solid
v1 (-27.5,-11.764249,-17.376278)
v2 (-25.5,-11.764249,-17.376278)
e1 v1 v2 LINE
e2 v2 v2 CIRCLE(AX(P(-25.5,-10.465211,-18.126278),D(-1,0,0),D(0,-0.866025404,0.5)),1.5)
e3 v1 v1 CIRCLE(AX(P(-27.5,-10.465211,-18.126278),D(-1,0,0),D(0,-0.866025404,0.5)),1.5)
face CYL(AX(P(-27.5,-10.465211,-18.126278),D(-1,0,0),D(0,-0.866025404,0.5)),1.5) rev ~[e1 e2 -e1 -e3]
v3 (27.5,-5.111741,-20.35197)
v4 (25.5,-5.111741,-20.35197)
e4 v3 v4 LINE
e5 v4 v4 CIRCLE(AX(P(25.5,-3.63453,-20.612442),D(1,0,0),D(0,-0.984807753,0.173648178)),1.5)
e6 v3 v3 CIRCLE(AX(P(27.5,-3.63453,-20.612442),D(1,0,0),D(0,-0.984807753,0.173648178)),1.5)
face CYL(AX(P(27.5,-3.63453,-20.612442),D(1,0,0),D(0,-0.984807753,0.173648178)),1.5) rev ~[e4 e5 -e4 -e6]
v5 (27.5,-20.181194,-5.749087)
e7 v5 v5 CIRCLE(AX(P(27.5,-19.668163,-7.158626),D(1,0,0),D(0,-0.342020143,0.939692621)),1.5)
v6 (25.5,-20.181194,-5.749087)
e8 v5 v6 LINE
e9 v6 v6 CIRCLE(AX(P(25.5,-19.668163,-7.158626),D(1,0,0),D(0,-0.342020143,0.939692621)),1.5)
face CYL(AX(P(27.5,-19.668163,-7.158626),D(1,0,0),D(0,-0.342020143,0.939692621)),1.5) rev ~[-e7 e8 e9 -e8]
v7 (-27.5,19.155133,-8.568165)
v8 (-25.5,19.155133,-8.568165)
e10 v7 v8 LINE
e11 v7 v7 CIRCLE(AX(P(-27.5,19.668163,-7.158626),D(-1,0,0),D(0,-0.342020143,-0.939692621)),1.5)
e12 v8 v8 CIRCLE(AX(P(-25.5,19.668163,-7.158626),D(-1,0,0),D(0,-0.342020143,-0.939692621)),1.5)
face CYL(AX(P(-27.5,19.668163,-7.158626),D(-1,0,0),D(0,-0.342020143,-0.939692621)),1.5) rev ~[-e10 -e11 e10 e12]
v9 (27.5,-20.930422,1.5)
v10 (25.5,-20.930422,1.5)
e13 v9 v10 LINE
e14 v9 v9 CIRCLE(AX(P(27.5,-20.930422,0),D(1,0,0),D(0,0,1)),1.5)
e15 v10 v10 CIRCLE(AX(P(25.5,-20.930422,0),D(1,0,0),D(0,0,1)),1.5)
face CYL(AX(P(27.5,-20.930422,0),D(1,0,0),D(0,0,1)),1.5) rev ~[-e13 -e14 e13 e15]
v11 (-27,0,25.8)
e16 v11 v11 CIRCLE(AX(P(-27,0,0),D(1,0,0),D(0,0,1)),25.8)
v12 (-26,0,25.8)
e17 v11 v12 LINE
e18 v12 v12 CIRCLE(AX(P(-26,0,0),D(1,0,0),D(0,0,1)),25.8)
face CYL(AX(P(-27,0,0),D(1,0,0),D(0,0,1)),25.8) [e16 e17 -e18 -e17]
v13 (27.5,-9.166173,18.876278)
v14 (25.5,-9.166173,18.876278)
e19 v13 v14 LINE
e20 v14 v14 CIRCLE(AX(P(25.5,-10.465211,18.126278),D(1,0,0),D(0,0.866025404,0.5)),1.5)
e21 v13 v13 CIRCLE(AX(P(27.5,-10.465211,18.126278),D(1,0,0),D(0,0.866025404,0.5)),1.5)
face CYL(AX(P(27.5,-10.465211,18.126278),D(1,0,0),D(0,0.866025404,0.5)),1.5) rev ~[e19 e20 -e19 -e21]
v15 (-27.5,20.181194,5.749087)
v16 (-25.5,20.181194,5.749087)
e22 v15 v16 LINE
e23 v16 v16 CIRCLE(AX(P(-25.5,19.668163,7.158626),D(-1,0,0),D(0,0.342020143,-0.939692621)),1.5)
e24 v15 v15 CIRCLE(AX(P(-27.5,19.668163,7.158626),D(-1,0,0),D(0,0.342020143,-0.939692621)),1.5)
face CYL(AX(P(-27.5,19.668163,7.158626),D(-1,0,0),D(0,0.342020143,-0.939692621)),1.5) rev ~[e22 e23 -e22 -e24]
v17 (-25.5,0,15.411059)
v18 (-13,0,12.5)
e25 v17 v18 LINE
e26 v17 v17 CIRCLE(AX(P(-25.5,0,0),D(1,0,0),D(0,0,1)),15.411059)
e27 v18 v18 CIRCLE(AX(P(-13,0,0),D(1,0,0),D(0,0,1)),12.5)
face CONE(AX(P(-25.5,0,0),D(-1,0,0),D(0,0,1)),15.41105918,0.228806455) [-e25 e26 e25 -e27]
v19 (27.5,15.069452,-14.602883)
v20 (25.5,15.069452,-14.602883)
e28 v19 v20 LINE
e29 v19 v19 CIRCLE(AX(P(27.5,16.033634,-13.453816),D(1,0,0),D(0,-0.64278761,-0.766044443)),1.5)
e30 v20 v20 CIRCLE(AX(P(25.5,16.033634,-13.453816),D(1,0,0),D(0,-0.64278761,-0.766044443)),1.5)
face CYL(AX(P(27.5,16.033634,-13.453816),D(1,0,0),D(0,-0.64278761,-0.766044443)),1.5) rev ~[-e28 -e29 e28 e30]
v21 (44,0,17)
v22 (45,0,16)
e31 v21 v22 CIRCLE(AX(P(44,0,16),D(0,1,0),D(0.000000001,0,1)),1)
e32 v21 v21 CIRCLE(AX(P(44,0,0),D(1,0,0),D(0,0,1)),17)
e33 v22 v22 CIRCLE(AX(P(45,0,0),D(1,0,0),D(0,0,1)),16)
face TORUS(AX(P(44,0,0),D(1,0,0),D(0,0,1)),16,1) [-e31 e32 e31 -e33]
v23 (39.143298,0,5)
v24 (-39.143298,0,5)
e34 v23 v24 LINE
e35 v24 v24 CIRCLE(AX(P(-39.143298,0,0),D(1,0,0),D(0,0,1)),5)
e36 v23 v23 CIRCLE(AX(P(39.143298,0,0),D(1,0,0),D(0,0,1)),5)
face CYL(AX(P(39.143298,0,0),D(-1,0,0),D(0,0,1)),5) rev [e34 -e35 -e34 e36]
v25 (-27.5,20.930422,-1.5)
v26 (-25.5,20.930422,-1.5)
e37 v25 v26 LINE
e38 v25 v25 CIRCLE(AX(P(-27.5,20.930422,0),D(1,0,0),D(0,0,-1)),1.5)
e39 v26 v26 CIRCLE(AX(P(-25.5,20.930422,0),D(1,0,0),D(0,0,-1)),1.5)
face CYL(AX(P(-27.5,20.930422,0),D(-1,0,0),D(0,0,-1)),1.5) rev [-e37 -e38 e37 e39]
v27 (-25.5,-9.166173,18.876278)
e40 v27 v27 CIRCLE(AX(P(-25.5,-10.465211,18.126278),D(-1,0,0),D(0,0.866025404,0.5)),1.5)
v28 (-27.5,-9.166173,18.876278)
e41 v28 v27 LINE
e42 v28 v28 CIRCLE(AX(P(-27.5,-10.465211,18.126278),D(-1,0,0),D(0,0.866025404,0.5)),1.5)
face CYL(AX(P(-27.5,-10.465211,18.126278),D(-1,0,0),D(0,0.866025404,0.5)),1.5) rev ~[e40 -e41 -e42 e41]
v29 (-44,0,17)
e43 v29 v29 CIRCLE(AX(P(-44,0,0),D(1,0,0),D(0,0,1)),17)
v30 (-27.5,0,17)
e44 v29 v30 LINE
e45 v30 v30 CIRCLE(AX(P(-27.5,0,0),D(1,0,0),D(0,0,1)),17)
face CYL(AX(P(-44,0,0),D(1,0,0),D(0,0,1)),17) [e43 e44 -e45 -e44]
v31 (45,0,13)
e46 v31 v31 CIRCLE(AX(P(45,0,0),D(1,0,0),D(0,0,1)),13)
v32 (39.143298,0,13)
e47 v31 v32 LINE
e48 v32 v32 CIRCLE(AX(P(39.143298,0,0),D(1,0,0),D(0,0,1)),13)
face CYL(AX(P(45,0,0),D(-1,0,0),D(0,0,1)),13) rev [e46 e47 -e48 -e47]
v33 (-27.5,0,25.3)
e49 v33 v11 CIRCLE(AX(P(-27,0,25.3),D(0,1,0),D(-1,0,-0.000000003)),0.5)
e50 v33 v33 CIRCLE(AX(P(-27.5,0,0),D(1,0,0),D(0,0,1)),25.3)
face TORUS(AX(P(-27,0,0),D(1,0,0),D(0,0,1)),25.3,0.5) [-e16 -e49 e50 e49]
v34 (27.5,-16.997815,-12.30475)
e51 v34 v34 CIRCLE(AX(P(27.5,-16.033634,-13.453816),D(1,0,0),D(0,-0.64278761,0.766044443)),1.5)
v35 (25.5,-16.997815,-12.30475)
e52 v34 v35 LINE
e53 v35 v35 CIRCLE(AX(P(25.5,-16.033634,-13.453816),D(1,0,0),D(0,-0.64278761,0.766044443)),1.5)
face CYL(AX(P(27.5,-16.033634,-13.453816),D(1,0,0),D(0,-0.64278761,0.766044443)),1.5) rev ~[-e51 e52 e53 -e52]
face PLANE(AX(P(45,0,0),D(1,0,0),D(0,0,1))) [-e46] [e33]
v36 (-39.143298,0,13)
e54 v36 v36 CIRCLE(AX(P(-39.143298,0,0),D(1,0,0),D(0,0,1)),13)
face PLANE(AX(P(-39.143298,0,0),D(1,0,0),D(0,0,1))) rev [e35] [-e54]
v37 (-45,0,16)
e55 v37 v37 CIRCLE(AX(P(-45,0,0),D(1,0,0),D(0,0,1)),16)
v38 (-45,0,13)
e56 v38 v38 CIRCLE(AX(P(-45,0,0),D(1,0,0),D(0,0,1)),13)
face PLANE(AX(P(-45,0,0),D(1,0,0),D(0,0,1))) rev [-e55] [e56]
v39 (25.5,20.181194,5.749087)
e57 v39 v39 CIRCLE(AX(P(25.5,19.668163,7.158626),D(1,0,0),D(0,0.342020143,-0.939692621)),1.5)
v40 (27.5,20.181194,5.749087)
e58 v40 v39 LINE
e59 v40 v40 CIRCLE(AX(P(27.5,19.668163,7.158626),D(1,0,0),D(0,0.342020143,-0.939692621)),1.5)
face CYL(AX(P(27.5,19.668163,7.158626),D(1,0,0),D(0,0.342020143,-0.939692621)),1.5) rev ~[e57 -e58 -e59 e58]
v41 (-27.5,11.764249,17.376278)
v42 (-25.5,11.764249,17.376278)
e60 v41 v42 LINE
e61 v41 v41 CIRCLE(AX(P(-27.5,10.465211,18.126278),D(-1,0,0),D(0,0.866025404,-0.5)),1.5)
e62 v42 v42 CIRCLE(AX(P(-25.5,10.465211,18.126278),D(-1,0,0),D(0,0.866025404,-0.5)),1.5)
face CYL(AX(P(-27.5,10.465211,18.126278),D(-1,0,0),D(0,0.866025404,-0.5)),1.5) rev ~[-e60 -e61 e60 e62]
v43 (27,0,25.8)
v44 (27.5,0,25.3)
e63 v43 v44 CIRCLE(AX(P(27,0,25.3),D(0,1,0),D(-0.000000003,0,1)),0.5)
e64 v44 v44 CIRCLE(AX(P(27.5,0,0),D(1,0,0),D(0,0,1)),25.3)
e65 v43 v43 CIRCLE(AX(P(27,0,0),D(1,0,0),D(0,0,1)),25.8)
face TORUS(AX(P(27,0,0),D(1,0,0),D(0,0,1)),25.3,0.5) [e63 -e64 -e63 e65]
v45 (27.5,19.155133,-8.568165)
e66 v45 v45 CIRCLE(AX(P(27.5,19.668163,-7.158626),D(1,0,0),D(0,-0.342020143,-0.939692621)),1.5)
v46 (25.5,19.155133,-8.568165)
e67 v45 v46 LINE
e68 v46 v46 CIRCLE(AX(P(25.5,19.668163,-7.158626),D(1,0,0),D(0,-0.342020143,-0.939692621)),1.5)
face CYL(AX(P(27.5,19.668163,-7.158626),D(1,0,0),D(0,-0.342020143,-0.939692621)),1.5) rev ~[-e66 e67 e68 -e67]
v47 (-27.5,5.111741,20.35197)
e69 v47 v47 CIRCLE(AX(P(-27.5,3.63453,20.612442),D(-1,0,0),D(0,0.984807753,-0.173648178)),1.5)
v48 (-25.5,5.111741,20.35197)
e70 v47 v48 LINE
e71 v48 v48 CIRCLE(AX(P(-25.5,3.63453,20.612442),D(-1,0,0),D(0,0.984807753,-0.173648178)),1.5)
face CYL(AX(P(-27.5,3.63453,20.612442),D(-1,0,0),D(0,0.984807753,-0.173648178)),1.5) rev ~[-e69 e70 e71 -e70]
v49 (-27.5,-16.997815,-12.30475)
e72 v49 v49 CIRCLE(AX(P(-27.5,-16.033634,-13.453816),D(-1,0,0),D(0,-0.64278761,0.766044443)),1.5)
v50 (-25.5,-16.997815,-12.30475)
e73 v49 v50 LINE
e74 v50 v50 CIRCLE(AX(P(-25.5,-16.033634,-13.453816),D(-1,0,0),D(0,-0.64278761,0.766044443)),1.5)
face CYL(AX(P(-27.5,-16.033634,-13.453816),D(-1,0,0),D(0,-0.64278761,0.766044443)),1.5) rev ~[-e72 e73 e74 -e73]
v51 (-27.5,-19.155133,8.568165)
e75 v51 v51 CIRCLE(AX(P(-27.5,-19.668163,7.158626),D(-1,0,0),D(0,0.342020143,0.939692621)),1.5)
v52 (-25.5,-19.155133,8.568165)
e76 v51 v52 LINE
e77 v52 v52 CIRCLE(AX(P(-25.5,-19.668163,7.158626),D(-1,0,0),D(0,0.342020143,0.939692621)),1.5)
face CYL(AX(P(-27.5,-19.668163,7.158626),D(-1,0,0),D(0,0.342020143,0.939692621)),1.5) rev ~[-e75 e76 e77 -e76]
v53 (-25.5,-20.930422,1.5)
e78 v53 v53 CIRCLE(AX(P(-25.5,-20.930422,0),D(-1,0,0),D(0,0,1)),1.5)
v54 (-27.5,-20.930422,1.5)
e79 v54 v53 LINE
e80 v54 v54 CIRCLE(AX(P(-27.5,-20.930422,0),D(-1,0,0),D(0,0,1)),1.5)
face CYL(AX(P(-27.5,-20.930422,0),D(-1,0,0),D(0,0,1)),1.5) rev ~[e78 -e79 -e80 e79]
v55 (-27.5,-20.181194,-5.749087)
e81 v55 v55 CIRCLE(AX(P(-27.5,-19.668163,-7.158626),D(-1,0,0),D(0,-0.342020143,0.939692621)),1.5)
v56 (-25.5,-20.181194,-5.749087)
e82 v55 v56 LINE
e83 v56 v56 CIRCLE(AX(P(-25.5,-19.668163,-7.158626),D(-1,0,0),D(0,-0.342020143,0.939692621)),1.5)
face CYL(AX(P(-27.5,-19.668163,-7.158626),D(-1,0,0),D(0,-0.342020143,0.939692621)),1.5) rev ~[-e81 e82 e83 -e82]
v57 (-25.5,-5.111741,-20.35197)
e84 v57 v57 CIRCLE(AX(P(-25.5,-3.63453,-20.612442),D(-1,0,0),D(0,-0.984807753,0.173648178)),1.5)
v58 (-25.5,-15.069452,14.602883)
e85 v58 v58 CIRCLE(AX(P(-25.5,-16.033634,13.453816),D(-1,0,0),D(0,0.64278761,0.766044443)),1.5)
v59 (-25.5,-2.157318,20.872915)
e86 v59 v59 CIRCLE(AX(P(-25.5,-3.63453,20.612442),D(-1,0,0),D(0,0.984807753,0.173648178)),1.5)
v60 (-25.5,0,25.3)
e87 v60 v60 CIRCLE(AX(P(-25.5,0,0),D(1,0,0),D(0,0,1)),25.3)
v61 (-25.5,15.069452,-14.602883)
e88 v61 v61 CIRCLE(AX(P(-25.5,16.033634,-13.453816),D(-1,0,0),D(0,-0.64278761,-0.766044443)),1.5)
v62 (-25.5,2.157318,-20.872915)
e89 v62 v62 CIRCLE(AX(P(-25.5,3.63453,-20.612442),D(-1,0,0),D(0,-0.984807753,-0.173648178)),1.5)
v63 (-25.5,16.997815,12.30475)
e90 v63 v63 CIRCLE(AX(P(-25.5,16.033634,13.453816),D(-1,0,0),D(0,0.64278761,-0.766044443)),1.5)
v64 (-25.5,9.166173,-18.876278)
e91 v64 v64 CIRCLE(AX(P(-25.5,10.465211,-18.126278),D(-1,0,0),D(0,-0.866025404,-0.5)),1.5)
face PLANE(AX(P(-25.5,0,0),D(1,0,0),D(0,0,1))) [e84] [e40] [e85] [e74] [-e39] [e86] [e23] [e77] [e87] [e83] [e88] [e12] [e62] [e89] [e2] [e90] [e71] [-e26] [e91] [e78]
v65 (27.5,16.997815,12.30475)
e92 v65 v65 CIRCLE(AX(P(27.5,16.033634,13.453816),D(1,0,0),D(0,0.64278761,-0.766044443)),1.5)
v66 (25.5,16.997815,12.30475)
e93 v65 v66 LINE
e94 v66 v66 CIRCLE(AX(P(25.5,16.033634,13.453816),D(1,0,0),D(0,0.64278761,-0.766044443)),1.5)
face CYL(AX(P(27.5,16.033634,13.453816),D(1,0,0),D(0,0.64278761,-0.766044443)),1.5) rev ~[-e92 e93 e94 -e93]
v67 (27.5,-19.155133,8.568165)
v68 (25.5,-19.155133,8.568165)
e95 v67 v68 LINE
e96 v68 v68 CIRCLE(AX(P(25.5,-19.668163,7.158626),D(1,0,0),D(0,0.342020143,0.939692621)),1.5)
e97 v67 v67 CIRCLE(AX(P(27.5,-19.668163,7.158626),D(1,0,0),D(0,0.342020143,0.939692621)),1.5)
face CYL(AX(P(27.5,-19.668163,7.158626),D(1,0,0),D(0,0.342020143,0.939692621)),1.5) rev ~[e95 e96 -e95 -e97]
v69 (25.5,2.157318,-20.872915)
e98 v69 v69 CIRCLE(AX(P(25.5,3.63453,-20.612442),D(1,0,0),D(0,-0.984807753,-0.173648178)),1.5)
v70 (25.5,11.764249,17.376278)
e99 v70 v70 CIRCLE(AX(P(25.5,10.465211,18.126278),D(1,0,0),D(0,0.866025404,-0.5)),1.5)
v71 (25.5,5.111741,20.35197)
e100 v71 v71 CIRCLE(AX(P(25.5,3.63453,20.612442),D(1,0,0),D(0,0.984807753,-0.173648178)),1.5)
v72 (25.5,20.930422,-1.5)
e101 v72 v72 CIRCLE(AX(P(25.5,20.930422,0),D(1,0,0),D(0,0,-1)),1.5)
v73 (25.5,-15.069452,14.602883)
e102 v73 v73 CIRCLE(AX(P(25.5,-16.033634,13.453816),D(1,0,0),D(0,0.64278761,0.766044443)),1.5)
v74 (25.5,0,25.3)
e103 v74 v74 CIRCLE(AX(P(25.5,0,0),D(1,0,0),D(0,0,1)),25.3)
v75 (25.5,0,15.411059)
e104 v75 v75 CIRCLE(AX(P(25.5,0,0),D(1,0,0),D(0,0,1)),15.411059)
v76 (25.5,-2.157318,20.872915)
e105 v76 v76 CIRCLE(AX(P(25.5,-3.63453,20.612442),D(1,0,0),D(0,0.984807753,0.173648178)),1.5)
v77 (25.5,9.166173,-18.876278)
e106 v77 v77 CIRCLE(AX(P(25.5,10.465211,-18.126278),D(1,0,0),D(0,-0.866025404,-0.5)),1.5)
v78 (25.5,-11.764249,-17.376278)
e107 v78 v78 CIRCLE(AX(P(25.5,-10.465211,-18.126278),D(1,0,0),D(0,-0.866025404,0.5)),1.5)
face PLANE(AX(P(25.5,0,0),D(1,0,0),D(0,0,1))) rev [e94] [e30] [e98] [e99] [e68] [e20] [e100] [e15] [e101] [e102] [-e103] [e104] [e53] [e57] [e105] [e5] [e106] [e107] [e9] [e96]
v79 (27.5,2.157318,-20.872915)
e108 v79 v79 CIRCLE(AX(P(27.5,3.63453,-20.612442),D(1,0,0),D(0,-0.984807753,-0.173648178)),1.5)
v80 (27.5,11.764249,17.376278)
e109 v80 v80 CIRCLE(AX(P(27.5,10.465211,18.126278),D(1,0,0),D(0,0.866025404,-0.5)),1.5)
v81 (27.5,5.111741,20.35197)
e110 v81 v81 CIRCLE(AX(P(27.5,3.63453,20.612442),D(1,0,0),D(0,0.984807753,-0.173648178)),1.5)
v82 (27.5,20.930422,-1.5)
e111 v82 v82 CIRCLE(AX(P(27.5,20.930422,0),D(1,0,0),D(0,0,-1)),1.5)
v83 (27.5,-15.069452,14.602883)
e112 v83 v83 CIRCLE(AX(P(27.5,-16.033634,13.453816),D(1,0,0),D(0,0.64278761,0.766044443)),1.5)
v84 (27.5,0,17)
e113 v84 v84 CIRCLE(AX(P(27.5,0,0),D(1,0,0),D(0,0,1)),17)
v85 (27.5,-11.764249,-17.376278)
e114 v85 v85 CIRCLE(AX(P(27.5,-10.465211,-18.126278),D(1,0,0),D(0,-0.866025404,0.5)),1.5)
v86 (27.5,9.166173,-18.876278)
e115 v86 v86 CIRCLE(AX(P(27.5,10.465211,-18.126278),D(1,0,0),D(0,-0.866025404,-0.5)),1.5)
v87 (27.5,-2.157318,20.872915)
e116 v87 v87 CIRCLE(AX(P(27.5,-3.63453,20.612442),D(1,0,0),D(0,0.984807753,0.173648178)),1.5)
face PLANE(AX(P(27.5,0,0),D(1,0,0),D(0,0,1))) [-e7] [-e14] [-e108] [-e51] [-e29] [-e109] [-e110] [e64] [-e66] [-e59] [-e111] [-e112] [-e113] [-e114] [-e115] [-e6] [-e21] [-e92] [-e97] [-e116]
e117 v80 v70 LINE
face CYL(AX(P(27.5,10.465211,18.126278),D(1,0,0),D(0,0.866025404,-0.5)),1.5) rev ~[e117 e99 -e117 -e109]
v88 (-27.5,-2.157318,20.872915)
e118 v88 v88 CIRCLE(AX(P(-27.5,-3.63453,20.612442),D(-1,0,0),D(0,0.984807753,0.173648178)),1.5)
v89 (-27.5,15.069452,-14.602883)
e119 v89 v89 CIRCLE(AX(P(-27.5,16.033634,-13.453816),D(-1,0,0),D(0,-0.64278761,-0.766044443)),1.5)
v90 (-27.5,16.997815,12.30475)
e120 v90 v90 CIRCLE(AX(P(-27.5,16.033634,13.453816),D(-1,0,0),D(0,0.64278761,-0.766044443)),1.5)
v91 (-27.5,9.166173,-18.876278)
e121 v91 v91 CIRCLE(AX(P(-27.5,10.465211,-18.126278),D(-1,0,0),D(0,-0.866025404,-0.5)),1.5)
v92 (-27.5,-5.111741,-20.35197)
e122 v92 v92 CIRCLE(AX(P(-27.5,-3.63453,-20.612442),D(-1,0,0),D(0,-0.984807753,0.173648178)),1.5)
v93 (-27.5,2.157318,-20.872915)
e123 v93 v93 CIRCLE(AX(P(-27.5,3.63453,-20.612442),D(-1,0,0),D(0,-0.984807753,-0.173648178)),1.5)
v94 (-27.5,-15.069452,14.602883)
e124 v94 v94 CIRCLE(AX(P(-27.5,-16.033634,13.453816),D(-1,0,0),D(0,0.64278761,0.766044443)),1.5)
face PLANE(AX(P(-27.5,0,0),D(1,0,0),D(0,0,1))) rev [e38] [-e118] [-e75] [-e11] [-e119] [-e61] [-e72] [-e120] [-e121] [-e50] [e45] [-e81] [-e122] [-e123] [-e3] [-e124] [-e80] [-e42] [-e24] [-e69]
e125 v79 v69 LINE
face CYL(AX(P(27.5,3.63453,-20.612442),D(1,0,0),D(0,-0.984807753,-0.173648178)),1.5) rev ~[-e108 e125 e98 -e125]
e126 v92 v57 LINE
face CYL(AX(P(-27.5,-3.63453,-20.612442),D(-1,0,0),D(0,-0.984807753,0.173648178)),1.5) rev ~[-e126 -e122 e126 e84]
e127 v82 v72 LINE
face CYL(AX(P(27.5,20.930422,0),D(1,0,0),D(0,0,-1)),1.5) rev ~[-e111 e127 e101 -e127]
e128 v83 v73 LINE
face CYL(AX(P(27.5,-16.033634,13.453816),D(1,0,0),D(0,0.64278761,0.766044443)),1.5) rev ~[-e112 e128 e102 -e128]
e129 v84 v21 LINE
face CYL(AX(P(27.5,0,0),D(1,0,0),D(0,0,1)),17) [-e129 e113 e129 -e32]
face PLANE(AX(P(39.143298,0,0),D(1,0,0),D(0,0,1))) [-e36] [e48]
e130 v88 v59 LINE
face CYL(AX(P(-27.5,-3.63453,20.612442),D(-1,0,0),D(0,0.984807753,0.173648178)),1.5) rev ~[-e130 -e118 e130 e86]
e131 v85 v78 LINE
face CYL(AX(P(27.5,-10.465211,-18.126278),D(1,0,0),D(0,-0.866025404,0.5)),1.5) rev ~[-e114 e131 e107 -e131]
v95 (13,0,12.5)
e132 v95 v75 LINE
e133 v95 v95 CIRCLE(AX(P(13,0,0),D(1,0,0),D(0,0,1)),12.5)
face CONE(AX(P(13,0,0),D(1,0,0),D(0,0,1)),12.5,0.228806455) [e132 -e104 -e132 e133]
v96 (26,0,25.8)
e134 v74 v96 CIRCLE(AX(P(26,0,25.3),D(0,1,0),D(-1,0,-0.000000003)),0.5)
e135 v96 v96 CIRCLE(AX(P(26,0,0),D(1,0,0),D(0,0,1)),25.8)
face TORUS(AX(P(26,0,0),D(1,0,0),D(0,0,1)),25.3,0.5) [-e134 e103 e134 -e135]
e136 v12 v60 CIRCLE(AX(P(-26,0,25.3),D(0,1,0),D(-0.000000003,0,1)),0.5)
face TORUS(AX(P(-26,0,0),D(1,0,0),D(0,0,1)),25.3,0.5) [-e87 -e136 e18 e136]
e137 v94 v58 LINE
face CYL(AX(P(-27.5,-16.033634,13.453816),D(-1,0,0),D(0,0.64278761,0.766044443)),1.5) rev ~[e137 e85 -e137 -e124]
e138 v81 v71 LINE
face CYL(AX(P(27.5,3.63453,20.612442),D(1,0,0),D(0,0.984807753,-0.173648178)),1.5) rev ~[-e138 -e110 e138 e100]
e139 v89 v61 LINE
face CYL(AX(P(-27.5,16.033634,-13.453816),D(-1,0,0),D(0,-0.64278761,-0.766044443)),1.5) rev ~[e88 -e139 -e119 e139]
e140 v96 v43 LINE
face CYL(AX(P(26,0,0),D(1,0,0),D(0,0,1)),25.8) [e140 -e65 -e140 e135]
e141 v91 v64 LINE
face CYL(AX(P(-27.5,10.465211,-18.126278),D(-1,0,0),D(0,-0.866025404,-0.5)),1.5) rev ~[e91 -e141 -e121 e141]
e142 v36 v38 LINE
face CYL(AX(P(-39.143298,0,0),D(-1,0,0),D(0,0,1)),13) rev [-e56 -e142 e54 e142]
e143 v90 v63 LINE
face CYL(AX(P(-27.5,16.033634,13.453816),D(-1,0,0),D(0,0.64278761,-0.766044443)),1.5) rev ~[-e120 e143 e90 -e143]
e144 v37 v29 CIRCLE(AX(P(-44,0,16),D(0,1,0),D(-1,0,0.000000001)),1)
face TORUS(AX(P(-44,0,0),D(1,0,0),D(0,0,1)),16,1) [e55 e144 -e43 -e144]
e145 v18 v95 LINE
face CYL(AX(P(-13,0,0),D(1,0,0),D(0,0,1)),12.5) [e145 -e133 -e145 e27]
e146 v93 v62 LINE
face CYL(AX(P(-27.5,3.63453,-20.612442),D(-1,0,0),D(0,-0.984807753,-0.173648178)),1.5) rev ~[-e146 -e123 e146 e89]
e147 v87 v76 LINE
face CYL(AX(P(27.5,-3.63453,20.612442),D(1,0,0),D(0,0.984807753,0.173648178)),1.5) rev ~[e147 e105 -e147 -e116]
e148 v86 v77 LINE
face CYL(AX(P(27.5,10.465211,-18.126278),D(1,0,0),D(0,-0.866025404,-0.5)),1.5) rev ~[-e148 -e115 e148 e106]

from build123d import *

# Parameters (mm, degrees)
CUT_EXTRUDE1_REACH       = 83.164
SKETCH2_R                = 1.5
CIRPATTERN1_COUNT        = 18
MIRROR1_COPY_1_REACH     = 83.164
MIRROR1_COPY_1_SKETCH_R  = 1.5
MIRROR1_COPY_2_REACH     = 83.164
MIRROR1_COPY_2_SKETCH_R  = 1.5
MIRROR1_COPY_3_REACH     = 83.164
MIRROR1_COPY_3_SKETCH_R  = 1.5
MIRROR1_COPY_4_REACH     = 83.164
MIRROR1_COPY_4_SKETCH_R  = 1.5
MIRROR1_COPY_5_REACH     = 83.164
MIRROR1_COPY_5_SKETCH_R  = 1.5
MIRROR1_COPY_6_REACH     = 83.164
MIRROR1_COPY_6_SKETCH_R  = 1.5
MIRROR1_COPY_7_REACH     = 83.164
MIRROR1_COPY_7_SKETCH_R  = 1.5
MIRROR1_COPY_8_REACH     = 83.164
MIRROR1_COPY_8_SKETCH_R  = 1.5
MIRROR1_COPY_9_REACH     = 83.164
MIRROR1_COPY_9_SKETCH_R  = 1.5
MIRROR1_COPY_10_REACH    = 83.164
MIRROR1_COPY_10_SKETCH_R = 1.5
MIRROR1_COPY_11_REACH    = 83.164
MIRROR1_COPY_11_SKETCH_R = 1.5
MIRROR1_COPY_12_REACH    = 83.164
MIRROR1_COPY_12_SKETCH_R = 1.5
MIRROR1_COPY_13_REACH    = 83.164
MIRROR1_COPY_13_SKETCH_R = 1.5
MIRROR1_COPY_14_REACH    = 83.164
MIRROR1_COPY_14_SKETCH_R = 1.5
MIRROR1_COPY_15_REACH    = 83.164
MIRROR1_COPY_15_SKETCH_R = 1.5
MIRROR1_COPY_16_REACH    = 83.164
MIRROR1_COPY_16_SKETCH_R = 1.5
MIRROR1_COPY_17_REACH    = 83.164
MIRROR1_COPY_17_SKETCH_R = 1.5


with BuildPart() as part:
    # Sketch1 → Revolve1 (revolve)
    with BuildSketch(Plane.XY, mode=Mode.PRIVATE) as revolve1_sk:
        with BuildLine():
            Line((-44, 17), (-27.5, 17))
            Line((-27.5, 17), (-27.5, 25.3))
            ThreePointArc((-27.5, 25.3), (-27.353553391, 25.653553391), (-27, 25.8))
            Line((-27, 25.8), (-26, 25.8))
            ThreePointArc((-26, 25.8), (-25.646446609, 25.653553391), (-25.5, 25.3))
            Line((-25.5, 25.3), (-25.5, 15.41105918))
            Line((-25.5, 15.41105918), (-13, 12.5))
            Line((-13, 12.5), (13, 12.5))
            Line((13, 12.5), (25.5, 15.41105918))
            Line((25.5, 15.41105918), (25.5, 25.3))
            ThreePointArc((25.5, 25.3), (25.646446609, 25.653553391), (26, 25.8))
            Line((26, 25.8), (27, 25.8))
            ThreePointArc((27, 25.8), (27.353553391, 25.653553391), (27.5, 25.3))
            Line((27.5, 25.3), (27.5, 17))
            Line((27.5, 17), (44, 17))
            ThreePointArc((44, 17), (44.707106781, 16.707106781), (45, 16))
            Line((45, 16), (45, 13))
            Line((45, 13), (39.143298455, 13))
            Line((39.143298455, 13), (39.143298455, 12.5))
            Line((39.143298455, 12.5), (39.143298455, 5))
            Line((39.143298455, 5), (-39.143298455, 5))
            Line((-39.143298455, 5), (-39.143298455, 12.5))
            Line((-39.143298455, 12.5), (-39.143298455, 13))
            Line((-39.143298455, 13), (-45, 13))
            Line((-45, 13), (-45, 16))
            ThreePointArc((-45, 16), (-44.707106781, 16.707106781), (-44, 17))
        make_face()
    revolve(revolve1_sk.sketch.rotate(Axis((0, 0, 0), (1, 0, 0)), 90), axis=Axis((0, 0, 0), (1, 0, 0)))

    # Sketch2 → Cut-Extrude1 (cut, up to next)
    with BuildSketch(Plane(origin=(27.5, 0, 0), x_dir=(0, 0, -1), z_dir=(1, 0, 0)), mode=Mode.PRIVATE) as cut_extrude1_sk1:
        with Locations((0, 20.930422405)):
            Circle(SKETCH2_R)
    cut_extrude1_tool1 = extrude(cut_extrude1_sk1.sketch, amount=-CUT_EXTRUDE1_REACH, mode=Mode.PRIVATE) & part.part
    cut_extrude1 = cut_extrude1_tool1.solids().sort_by_distance((27.5, 20.930422, 0))[0]
    add(cut_extrude1, mode=Mode.SUBTRACT)

    # CirPattern1: Cut-Extrude1 ×18 about axis
    cirpattern1_axis = Axis((0, 0, 0), (1, 0, 0))
    for i in range(1, CIRPATTERN1_COUNT):
        add(cut_extrude1.rotate(cirpattern1_axis, i * 360 / CIRPATTERN1_COUNT), mode=Mode.SUBTRACT)

    # Mirror1: Cut-Extrude1 across plane
    add(cut_extrude1.mirror(Plane(origin=(0, 0, 0), x_dir=(0, 0, 1), z_dir=(1, 0, 0))), mode=Mode.SUBTRACT)

    # Mirror1 copy 1 sketch → Mirror1 copy 1 (cut, up to next)
    with BuildSketch(Plane(origin=(-27.5, 0, 0), x_dir=(0, 0.3420201433256687, -0.9396926207859084), z_dir=(-1, 0, 0)), mode=Mode.PRIVATE) as mirror1_copy_1_sk1:
        with Locations((0, -20.930422405)):
            Circle(MIRROR1_COPY_1_SKETCH_R)
    mirror1_copy_1_tool1 = extrude(mirror1_copy_1_sk1.sketch, amount=-MIRROR1_COPY_1_REACH, mode=Mode.PRIVATE) & part.part
    add(mirror1_copy_1_tool1.solids().sort_by_distance((-27.5, 19.668163103, 7.158625932))[0], mode=Mode.SUBTRACT)

    # Mirror1 copy 2 sketch → Mirror1 copy 2 (cut, up to next)
    with BuildSketch(Plane(origin=(-27.5, 0, 0), x_dir=(0, 0.6427876096865393, -0.766044443118978), z_dir=(-1, 0, 0)), mode=Mode.PRIVATE) as mirror1_copy_2_sk1:
        with Locations((0, -20.930422405)):
            Circle(MIRROR1_COPY_2_SKETCH_R)
    mirror1_copy_2_tool1 = extrude(mirror1_copy_2_sk1.sketch, amount=-MIRROR1_COPY_2_REACH, mode=Mode.PRIVATE) & part.part
    add(mirror1_copy_2_tool1.solids().sort_by_distance((-27.5, 16.033633465, 13.453815927))[0], mode=Mode.SUBTRACT)

    # Mirror1 copy 3 sketch → Mirror1 copy 3 (cut, up to next)
    with BuildSketch(Plane(origin=(-27.5, 0, 0), x_dir=(0, 0.8660254037844386, -0.5000000000000001), z_dir=(-1, 0, 0)), mode=Mode.PRIVATE) as mirror1_copy_3_sk1:
        with Locations((0, -20.930422405)):
            Circle(MIRROR1_COPY_3_SKETCH_R)
    mirror1_copy_3_tool1 = extrude(mirror1_copy_3_sk1.sketch, amount=-MIRROR1_COPY_3_REACH, mode=Mode.PRIVATE) & part.part
    add(mirror1_copy_3_tool1.solids().sort_by_distance((-27.5, 10.465211, 18.126277164))[0], mode=Mode.SUBTRACT)

    # Mirror1 copy 4 sketch → Mirror1 copy 4 (cut, up to next)
    with BuildSketch(Plane(origin=(-27.5, 0, 0), x_dir=(0, 0.984807753012208, -0.17364817766693041), z_dir=(-1, 0, 0)), mode=Mode.PRIVATE) as mirror1_copy_4_sk1:
        with Locations((0, -20.930422405)):
            Circle(MIRROR1_COPY_4_SKETCH_R)
    mirror1_copy_4_tool1 = extrude(mirror1_copy_4_sk1.sketch, amount=-MIRROR1_COPY_4_REACH, mode=Mode.PRIVATE) & part.part
    add(mirror1_copy_4_tool1.solids().sort_by_distance((-27.5, 3.634529638, 20.612441859))[0], mode=Mode.SUBTRACT)

    # Mirror1 copy 5 sketch → Mirror1 copy 5 (cut, up to next)
    with BuildSketch(Plane(origin=(-27.5, 0, 0), x_dir=(0, 0.984807753012208, 0.1736481776669303), z_dir=(-1, 0, 0)), mode=Mode.PRIVATE) as mirror1_copy_5_sk1:
        with Locations((0, -20.930422405)):
            Circle(MIRROR1_COPY_5_SKETCH_R)
    mirror1_copy_5_tool1 = extrude(mirror1_copy_5_sk1.sketch, amount=-MIRROR1_COPY_5_REACH, mode=Mode.PRIVATE) & part.part
    add(mirror1_copy_5_tool1.solids().sort_by_distance((-27.5, -3.634529638, 20.612441859))[0], mode=Mode.SUBTRACT)

    # Mirror1 copy 6 sketch → Mirror1 copy 6 (cut, up to next)
    with BuildSketch(Plane(origin=(-27.5, 0, 0), x_dir=(0, 0.8660254037844387, 0.4999999999999998), z_dir=(-1, 0, 0)), mode=Mode.PRIVATE) as mirror1_copy_6_sk1:
        with Locations((0, -20.930422405)):
            Circle(MIRROR1_COPY_6_SKETCH_R)
    mirror1_copy_6_tool1 = extrude(mirror1_copy_6_sk1.sketch, amount=-MIRROR1_COPY_6_REACH, mode=Mode.PRIVATE) & part.part
    add(mirror1_copy_6_tool1.solids().sort_by_distance((-27.5, -10.465211, 18.126277164))[0], mode=Mode.SUBTRACT)

    # Mirror1 copy 7 sketch → Mirror1 copy 7 (cut, up to next)
    with BuildSketch(Plane(origin=(-27.5, 0, 0), x_dir=(0, 0.6427876096865395, 0.7660444431189779), z_dir=(-1, 0, 0)), mode=Mode.PRIVATE) as mirror1_copy_7_sk1:
        with Locations((0, -20.930422405)):
            Circle(MIRROR1_COPY_7_SKETCH_R)
    mirror1_copy_7_tool1 = extrude(mirror1_copy_7_sk1.sketch, amount=-MIRROR1_COPY_7_REACH, mode=Mode.PRIVATE) & part.part
    add(mirror1_copy_7_tool1.solids().sort_by_distance((-27.5, -16.033633465, 13.453815927))[0], mode=Mode.SUBTRACT)

    # Mirror1 copy 8 sketch → Mirror1 copy 8 (cut, up to next)
    with BuildSketch(Plane(origin=(-27.5, 0, 0), x_dir=(0, 0.3420201433256689, 0.9396926207859083), z_dir=(-1, 0, 0)), mode=Mode.PRIVATE) as mirror1_copy_8_sk1:
        with Locations((0, -20.930422405)):
            Circle(MIRROR1_COPY_8_SKETCH_R)
    mirror1_copy_8_tool1 = extrude(mirror1_copy_8_sk1.sketch, amount=-MIRROR1_COPY_8_REACH, mode=Mode.PRIVATE) & part.part
    add(mirror1_copy_8_tool1.solids().sort_by_distance((-27.5, -19.668163103, 7.158625932))[0], mode=Mode.SUBTRACT)

    # Mirror1 copy 9 sketch → Mirror1 copy 9 (cut, up to next)
    with BuildSketch(Plane.ZY.offset(27.5), mode=Mode.PRIVATE) as mirror1_copy_9_sk1:
        with Locations((0, -20.930422405)):
            Circle(MIRROR1_COPY_9_SKETCH_R)
    mirror1_copy_9_tool1 = extrude(mirror1_copy_9_sk1.sketch, amount=-MIRROR1_COPY_9_REACH, mode=Mode.PRIVATE) & part.part
    add(mirror1_copy_9_tool1.solids().sort_by_distance((-27.5, -20.930422, 0))[0], mode=Mode.SUBTRACT)

    # Mirror1 copy 10 sketch → Mirror1 copy 10 (cut, up to next)
    with BuildSketch(Plane(origin=(-27.5, 0, 0), x_dir=(0, -0.34202014332566866, 0.9396926207859084), z_dir=(-1, 0, 0)), mode=Mode.PRIVATE) as mirror1_copy_10_sk1:
        with Locations((0, -20.930422405)):
            Circle(MIRROR1_COPY_10_SKETCH_R)
    mirror1_copy_10_tool1 = extrude(mirror1_copy_10_sk1.sketch, amount=-MIRROR1_COPY_10_REACH, mode=Mode.PRIVATE) & part.part
    add(mirror1_copy_10_tool1.solids().sort_by_distance((-27.5, -19.668163103, -7.158625932))[0], mode=Mode.SUBTRACT)

    # Mirror1 copy 11 sketch → Mirror1 copy 11 (cut, up to next)
    with BuildSketch(Plane(origin=(-27.5, 0, 0), x_dir=(0, -0.6427876096865393, 0.766044443118978), z_dir=(-1, 0, 0)), mode=Mode.PRIVATE) as mirror1_copy_11_sk1:
        with Locations((0, -20.930422405)):
            Circle(MIRROR1_COPY_11_SKETCH_R)
    mirror1_copy_11_tool1 = extrude(mirror1_copy_11_sk1.sketch, amount=-MIRROR1_COPY_11_REACH, mode=Mode.PRIVATE) & part.part
    add(mirror1_copy_11_tool1.solids().sort_by_distance((-27.5, -16.033633465, -13.453815927))[0], mode=Mode.SUBTRACT)

    # Mirror1 copy 12 sketch → Mirror1 copy 12 (cut, up to next)
    with BuildSketch(Plane(origin=(-27.5, 0, 0), x_dir=(0, -0.8660254037844384, 0.5000000000000004), z_dir=(-1, 0, 0)), mode=Mode.PRIVATE) as mirror1_copy_12_sk1:
        with Locations((0, -20.930422405)):
            Circle(MIRROR1_COPY_12_SKETCH_R)
    mirror1_copy_12_tool1 = extrude(mirror1_copy_12_sk1.sketch, amount=-MIRROR1_COPY_12_REACH, mode=Mode.PRIVATE) & part.part
    add(mirror1_copy_12_tool1.solids().sort_by_distance((-27.5, -10.465211, -18.126277164))[0], mode=Mode.SUBTRACT)

    # Mirror1 copy 13 sketch → Mirror1 copy 13 (cut, up to next)
    with BuildSketch(Plane(origin=(-27.5, 0, 0), x_dir=(0, -0.984807753012208, 0.17364817766693033), z_dir=(-1, 0, 0)), mode=Mode.PRIVATE) as mirror1_copy_13_sk1:
        with Locations((0, -20.930422405)):
            Circle(MIRROR1_COPY_13_SKETCH_R)
    mirror1_copy_13_tool1 = extrude(mirror1_copy_13_sk1.sketch, amount=-MIRROR1_COPY_13_REACH, mode=Mode.PRIVATE) & part.part
    add(mirror1_copy_13_tool1.solids().sort_by_distance((-27.5, -3.634529638, -20.612441859))[0], mode=Mode.SUBTRACT)

    # Mirror1 copy 14 sketch → Mirror1 copy 14 (cut, up to next)
    with BuildSketch(Plane(origin=(-27.5, 0, 0), x_dir=(0, -0.9848077530122081, -0.17364817766692997), z_dir=(-1, 0, 0)), mode=Mode.PRIVATE) as mirror1_copy_14_sk1:
        with Locations((0, -20.930422405)):
            Circle(MIRROR1_COPY_14_SKETCH_R)
    mirror1_copy_14_tool1 = extrude(mirror1_copy_14_sk1.sketch, amount=-MIRROR1_COPY_14_REACH, mode=Mode.PRIVATE) & part.part
    add(mirror1_copy_14_tool1.solids().sort_by_distance((-27.5, 3.634529638, -20.612441859))[0], mode=Mode.SUBTRACT)

    # Mirror1 copy 15 sketch → Mirror1 copy 15 (cut, up to next)
    with BuildSketch(Plane(origin=(-27.5, 0, 0), x_dir=(0, -0.8660254037844386, -0.5000000000000001), z_dir=(-1, 0, 0)), mode=Mode.PRIVATE) as mirror1_copy_15_sk1:
        with Locations((0, -20.930422405)):
            Circle(MIRROR1_COPY_15_SKETCH_R)
    mirror1_copy_15_tool1 = extrude(mirror1_copy_15_sk1.sketch, amount=-MIRROR1_COPY_15_REACH, mode=Mode.PRIVATE) & part.part
    add(mirror1_copy_15_tool1.solids().sort_by_distance((-27.5, 10.465211, -18.126277164))[0], mode=Mode.SUBTRACT)

    # Mirror1 copy 16 sketch → Mirror1 copy 16 (cut, up to next)
    with BuildSketch(Plane(origin=(-27.5, 0, 0), x_dir=(0, -0.6427876096865396, -0.7660444431189778), z_dir=(-1, 0, 0)), mode=Mode.PRIVATE) as mirror1_copy_16_sk1:
        with Locations((0, -20.930422405)):
            Circle(MIRROR1_COPY_16_SKETCH_R)
    mirror1_copy_16_tool1 = extrude(mirror1_copy_16_sk1.sketch, amount=-MIRROR1_COPY_16_REACH, mode=Mode.PRIVATE) & part.part
    add(mirror1_copy_16_tool1.solids().sort_by_distance((-27.5, 16.033633465, -13.453815927))[0], mode=Mode.SUBTRACT)

    # Mirror1 copy 17 sketch → Mirror1 copy 17 (cut, up to next)
    with BuildSketch(Plane(origin=(-27.5, 0, 0), x_dir=(0, -0.3420201433256686, -0.9396926207859084), z_dir=(-1, 0, 0)), mode=Mode.PRIVATE) as mirror1_copy_17_sk1:
        with Locations((0, -20.930422405)):
            Circle(MIRROR1_COPY_17_SKETCH_R)
    mirror1_copy_17_tool1 = extrude(mirror1_copy_17_sk1.sketch, amount=-MIRROR1_COPY_17_REACH, mode=Mode.PRIVATE) & part.part
    add(mirror1_copy_17_tool1.solids().sort_by_distance((-27.5, 19.668163103, -7.158625932))[0], mode=Mode.SUBTRACT)


solid = part.part
